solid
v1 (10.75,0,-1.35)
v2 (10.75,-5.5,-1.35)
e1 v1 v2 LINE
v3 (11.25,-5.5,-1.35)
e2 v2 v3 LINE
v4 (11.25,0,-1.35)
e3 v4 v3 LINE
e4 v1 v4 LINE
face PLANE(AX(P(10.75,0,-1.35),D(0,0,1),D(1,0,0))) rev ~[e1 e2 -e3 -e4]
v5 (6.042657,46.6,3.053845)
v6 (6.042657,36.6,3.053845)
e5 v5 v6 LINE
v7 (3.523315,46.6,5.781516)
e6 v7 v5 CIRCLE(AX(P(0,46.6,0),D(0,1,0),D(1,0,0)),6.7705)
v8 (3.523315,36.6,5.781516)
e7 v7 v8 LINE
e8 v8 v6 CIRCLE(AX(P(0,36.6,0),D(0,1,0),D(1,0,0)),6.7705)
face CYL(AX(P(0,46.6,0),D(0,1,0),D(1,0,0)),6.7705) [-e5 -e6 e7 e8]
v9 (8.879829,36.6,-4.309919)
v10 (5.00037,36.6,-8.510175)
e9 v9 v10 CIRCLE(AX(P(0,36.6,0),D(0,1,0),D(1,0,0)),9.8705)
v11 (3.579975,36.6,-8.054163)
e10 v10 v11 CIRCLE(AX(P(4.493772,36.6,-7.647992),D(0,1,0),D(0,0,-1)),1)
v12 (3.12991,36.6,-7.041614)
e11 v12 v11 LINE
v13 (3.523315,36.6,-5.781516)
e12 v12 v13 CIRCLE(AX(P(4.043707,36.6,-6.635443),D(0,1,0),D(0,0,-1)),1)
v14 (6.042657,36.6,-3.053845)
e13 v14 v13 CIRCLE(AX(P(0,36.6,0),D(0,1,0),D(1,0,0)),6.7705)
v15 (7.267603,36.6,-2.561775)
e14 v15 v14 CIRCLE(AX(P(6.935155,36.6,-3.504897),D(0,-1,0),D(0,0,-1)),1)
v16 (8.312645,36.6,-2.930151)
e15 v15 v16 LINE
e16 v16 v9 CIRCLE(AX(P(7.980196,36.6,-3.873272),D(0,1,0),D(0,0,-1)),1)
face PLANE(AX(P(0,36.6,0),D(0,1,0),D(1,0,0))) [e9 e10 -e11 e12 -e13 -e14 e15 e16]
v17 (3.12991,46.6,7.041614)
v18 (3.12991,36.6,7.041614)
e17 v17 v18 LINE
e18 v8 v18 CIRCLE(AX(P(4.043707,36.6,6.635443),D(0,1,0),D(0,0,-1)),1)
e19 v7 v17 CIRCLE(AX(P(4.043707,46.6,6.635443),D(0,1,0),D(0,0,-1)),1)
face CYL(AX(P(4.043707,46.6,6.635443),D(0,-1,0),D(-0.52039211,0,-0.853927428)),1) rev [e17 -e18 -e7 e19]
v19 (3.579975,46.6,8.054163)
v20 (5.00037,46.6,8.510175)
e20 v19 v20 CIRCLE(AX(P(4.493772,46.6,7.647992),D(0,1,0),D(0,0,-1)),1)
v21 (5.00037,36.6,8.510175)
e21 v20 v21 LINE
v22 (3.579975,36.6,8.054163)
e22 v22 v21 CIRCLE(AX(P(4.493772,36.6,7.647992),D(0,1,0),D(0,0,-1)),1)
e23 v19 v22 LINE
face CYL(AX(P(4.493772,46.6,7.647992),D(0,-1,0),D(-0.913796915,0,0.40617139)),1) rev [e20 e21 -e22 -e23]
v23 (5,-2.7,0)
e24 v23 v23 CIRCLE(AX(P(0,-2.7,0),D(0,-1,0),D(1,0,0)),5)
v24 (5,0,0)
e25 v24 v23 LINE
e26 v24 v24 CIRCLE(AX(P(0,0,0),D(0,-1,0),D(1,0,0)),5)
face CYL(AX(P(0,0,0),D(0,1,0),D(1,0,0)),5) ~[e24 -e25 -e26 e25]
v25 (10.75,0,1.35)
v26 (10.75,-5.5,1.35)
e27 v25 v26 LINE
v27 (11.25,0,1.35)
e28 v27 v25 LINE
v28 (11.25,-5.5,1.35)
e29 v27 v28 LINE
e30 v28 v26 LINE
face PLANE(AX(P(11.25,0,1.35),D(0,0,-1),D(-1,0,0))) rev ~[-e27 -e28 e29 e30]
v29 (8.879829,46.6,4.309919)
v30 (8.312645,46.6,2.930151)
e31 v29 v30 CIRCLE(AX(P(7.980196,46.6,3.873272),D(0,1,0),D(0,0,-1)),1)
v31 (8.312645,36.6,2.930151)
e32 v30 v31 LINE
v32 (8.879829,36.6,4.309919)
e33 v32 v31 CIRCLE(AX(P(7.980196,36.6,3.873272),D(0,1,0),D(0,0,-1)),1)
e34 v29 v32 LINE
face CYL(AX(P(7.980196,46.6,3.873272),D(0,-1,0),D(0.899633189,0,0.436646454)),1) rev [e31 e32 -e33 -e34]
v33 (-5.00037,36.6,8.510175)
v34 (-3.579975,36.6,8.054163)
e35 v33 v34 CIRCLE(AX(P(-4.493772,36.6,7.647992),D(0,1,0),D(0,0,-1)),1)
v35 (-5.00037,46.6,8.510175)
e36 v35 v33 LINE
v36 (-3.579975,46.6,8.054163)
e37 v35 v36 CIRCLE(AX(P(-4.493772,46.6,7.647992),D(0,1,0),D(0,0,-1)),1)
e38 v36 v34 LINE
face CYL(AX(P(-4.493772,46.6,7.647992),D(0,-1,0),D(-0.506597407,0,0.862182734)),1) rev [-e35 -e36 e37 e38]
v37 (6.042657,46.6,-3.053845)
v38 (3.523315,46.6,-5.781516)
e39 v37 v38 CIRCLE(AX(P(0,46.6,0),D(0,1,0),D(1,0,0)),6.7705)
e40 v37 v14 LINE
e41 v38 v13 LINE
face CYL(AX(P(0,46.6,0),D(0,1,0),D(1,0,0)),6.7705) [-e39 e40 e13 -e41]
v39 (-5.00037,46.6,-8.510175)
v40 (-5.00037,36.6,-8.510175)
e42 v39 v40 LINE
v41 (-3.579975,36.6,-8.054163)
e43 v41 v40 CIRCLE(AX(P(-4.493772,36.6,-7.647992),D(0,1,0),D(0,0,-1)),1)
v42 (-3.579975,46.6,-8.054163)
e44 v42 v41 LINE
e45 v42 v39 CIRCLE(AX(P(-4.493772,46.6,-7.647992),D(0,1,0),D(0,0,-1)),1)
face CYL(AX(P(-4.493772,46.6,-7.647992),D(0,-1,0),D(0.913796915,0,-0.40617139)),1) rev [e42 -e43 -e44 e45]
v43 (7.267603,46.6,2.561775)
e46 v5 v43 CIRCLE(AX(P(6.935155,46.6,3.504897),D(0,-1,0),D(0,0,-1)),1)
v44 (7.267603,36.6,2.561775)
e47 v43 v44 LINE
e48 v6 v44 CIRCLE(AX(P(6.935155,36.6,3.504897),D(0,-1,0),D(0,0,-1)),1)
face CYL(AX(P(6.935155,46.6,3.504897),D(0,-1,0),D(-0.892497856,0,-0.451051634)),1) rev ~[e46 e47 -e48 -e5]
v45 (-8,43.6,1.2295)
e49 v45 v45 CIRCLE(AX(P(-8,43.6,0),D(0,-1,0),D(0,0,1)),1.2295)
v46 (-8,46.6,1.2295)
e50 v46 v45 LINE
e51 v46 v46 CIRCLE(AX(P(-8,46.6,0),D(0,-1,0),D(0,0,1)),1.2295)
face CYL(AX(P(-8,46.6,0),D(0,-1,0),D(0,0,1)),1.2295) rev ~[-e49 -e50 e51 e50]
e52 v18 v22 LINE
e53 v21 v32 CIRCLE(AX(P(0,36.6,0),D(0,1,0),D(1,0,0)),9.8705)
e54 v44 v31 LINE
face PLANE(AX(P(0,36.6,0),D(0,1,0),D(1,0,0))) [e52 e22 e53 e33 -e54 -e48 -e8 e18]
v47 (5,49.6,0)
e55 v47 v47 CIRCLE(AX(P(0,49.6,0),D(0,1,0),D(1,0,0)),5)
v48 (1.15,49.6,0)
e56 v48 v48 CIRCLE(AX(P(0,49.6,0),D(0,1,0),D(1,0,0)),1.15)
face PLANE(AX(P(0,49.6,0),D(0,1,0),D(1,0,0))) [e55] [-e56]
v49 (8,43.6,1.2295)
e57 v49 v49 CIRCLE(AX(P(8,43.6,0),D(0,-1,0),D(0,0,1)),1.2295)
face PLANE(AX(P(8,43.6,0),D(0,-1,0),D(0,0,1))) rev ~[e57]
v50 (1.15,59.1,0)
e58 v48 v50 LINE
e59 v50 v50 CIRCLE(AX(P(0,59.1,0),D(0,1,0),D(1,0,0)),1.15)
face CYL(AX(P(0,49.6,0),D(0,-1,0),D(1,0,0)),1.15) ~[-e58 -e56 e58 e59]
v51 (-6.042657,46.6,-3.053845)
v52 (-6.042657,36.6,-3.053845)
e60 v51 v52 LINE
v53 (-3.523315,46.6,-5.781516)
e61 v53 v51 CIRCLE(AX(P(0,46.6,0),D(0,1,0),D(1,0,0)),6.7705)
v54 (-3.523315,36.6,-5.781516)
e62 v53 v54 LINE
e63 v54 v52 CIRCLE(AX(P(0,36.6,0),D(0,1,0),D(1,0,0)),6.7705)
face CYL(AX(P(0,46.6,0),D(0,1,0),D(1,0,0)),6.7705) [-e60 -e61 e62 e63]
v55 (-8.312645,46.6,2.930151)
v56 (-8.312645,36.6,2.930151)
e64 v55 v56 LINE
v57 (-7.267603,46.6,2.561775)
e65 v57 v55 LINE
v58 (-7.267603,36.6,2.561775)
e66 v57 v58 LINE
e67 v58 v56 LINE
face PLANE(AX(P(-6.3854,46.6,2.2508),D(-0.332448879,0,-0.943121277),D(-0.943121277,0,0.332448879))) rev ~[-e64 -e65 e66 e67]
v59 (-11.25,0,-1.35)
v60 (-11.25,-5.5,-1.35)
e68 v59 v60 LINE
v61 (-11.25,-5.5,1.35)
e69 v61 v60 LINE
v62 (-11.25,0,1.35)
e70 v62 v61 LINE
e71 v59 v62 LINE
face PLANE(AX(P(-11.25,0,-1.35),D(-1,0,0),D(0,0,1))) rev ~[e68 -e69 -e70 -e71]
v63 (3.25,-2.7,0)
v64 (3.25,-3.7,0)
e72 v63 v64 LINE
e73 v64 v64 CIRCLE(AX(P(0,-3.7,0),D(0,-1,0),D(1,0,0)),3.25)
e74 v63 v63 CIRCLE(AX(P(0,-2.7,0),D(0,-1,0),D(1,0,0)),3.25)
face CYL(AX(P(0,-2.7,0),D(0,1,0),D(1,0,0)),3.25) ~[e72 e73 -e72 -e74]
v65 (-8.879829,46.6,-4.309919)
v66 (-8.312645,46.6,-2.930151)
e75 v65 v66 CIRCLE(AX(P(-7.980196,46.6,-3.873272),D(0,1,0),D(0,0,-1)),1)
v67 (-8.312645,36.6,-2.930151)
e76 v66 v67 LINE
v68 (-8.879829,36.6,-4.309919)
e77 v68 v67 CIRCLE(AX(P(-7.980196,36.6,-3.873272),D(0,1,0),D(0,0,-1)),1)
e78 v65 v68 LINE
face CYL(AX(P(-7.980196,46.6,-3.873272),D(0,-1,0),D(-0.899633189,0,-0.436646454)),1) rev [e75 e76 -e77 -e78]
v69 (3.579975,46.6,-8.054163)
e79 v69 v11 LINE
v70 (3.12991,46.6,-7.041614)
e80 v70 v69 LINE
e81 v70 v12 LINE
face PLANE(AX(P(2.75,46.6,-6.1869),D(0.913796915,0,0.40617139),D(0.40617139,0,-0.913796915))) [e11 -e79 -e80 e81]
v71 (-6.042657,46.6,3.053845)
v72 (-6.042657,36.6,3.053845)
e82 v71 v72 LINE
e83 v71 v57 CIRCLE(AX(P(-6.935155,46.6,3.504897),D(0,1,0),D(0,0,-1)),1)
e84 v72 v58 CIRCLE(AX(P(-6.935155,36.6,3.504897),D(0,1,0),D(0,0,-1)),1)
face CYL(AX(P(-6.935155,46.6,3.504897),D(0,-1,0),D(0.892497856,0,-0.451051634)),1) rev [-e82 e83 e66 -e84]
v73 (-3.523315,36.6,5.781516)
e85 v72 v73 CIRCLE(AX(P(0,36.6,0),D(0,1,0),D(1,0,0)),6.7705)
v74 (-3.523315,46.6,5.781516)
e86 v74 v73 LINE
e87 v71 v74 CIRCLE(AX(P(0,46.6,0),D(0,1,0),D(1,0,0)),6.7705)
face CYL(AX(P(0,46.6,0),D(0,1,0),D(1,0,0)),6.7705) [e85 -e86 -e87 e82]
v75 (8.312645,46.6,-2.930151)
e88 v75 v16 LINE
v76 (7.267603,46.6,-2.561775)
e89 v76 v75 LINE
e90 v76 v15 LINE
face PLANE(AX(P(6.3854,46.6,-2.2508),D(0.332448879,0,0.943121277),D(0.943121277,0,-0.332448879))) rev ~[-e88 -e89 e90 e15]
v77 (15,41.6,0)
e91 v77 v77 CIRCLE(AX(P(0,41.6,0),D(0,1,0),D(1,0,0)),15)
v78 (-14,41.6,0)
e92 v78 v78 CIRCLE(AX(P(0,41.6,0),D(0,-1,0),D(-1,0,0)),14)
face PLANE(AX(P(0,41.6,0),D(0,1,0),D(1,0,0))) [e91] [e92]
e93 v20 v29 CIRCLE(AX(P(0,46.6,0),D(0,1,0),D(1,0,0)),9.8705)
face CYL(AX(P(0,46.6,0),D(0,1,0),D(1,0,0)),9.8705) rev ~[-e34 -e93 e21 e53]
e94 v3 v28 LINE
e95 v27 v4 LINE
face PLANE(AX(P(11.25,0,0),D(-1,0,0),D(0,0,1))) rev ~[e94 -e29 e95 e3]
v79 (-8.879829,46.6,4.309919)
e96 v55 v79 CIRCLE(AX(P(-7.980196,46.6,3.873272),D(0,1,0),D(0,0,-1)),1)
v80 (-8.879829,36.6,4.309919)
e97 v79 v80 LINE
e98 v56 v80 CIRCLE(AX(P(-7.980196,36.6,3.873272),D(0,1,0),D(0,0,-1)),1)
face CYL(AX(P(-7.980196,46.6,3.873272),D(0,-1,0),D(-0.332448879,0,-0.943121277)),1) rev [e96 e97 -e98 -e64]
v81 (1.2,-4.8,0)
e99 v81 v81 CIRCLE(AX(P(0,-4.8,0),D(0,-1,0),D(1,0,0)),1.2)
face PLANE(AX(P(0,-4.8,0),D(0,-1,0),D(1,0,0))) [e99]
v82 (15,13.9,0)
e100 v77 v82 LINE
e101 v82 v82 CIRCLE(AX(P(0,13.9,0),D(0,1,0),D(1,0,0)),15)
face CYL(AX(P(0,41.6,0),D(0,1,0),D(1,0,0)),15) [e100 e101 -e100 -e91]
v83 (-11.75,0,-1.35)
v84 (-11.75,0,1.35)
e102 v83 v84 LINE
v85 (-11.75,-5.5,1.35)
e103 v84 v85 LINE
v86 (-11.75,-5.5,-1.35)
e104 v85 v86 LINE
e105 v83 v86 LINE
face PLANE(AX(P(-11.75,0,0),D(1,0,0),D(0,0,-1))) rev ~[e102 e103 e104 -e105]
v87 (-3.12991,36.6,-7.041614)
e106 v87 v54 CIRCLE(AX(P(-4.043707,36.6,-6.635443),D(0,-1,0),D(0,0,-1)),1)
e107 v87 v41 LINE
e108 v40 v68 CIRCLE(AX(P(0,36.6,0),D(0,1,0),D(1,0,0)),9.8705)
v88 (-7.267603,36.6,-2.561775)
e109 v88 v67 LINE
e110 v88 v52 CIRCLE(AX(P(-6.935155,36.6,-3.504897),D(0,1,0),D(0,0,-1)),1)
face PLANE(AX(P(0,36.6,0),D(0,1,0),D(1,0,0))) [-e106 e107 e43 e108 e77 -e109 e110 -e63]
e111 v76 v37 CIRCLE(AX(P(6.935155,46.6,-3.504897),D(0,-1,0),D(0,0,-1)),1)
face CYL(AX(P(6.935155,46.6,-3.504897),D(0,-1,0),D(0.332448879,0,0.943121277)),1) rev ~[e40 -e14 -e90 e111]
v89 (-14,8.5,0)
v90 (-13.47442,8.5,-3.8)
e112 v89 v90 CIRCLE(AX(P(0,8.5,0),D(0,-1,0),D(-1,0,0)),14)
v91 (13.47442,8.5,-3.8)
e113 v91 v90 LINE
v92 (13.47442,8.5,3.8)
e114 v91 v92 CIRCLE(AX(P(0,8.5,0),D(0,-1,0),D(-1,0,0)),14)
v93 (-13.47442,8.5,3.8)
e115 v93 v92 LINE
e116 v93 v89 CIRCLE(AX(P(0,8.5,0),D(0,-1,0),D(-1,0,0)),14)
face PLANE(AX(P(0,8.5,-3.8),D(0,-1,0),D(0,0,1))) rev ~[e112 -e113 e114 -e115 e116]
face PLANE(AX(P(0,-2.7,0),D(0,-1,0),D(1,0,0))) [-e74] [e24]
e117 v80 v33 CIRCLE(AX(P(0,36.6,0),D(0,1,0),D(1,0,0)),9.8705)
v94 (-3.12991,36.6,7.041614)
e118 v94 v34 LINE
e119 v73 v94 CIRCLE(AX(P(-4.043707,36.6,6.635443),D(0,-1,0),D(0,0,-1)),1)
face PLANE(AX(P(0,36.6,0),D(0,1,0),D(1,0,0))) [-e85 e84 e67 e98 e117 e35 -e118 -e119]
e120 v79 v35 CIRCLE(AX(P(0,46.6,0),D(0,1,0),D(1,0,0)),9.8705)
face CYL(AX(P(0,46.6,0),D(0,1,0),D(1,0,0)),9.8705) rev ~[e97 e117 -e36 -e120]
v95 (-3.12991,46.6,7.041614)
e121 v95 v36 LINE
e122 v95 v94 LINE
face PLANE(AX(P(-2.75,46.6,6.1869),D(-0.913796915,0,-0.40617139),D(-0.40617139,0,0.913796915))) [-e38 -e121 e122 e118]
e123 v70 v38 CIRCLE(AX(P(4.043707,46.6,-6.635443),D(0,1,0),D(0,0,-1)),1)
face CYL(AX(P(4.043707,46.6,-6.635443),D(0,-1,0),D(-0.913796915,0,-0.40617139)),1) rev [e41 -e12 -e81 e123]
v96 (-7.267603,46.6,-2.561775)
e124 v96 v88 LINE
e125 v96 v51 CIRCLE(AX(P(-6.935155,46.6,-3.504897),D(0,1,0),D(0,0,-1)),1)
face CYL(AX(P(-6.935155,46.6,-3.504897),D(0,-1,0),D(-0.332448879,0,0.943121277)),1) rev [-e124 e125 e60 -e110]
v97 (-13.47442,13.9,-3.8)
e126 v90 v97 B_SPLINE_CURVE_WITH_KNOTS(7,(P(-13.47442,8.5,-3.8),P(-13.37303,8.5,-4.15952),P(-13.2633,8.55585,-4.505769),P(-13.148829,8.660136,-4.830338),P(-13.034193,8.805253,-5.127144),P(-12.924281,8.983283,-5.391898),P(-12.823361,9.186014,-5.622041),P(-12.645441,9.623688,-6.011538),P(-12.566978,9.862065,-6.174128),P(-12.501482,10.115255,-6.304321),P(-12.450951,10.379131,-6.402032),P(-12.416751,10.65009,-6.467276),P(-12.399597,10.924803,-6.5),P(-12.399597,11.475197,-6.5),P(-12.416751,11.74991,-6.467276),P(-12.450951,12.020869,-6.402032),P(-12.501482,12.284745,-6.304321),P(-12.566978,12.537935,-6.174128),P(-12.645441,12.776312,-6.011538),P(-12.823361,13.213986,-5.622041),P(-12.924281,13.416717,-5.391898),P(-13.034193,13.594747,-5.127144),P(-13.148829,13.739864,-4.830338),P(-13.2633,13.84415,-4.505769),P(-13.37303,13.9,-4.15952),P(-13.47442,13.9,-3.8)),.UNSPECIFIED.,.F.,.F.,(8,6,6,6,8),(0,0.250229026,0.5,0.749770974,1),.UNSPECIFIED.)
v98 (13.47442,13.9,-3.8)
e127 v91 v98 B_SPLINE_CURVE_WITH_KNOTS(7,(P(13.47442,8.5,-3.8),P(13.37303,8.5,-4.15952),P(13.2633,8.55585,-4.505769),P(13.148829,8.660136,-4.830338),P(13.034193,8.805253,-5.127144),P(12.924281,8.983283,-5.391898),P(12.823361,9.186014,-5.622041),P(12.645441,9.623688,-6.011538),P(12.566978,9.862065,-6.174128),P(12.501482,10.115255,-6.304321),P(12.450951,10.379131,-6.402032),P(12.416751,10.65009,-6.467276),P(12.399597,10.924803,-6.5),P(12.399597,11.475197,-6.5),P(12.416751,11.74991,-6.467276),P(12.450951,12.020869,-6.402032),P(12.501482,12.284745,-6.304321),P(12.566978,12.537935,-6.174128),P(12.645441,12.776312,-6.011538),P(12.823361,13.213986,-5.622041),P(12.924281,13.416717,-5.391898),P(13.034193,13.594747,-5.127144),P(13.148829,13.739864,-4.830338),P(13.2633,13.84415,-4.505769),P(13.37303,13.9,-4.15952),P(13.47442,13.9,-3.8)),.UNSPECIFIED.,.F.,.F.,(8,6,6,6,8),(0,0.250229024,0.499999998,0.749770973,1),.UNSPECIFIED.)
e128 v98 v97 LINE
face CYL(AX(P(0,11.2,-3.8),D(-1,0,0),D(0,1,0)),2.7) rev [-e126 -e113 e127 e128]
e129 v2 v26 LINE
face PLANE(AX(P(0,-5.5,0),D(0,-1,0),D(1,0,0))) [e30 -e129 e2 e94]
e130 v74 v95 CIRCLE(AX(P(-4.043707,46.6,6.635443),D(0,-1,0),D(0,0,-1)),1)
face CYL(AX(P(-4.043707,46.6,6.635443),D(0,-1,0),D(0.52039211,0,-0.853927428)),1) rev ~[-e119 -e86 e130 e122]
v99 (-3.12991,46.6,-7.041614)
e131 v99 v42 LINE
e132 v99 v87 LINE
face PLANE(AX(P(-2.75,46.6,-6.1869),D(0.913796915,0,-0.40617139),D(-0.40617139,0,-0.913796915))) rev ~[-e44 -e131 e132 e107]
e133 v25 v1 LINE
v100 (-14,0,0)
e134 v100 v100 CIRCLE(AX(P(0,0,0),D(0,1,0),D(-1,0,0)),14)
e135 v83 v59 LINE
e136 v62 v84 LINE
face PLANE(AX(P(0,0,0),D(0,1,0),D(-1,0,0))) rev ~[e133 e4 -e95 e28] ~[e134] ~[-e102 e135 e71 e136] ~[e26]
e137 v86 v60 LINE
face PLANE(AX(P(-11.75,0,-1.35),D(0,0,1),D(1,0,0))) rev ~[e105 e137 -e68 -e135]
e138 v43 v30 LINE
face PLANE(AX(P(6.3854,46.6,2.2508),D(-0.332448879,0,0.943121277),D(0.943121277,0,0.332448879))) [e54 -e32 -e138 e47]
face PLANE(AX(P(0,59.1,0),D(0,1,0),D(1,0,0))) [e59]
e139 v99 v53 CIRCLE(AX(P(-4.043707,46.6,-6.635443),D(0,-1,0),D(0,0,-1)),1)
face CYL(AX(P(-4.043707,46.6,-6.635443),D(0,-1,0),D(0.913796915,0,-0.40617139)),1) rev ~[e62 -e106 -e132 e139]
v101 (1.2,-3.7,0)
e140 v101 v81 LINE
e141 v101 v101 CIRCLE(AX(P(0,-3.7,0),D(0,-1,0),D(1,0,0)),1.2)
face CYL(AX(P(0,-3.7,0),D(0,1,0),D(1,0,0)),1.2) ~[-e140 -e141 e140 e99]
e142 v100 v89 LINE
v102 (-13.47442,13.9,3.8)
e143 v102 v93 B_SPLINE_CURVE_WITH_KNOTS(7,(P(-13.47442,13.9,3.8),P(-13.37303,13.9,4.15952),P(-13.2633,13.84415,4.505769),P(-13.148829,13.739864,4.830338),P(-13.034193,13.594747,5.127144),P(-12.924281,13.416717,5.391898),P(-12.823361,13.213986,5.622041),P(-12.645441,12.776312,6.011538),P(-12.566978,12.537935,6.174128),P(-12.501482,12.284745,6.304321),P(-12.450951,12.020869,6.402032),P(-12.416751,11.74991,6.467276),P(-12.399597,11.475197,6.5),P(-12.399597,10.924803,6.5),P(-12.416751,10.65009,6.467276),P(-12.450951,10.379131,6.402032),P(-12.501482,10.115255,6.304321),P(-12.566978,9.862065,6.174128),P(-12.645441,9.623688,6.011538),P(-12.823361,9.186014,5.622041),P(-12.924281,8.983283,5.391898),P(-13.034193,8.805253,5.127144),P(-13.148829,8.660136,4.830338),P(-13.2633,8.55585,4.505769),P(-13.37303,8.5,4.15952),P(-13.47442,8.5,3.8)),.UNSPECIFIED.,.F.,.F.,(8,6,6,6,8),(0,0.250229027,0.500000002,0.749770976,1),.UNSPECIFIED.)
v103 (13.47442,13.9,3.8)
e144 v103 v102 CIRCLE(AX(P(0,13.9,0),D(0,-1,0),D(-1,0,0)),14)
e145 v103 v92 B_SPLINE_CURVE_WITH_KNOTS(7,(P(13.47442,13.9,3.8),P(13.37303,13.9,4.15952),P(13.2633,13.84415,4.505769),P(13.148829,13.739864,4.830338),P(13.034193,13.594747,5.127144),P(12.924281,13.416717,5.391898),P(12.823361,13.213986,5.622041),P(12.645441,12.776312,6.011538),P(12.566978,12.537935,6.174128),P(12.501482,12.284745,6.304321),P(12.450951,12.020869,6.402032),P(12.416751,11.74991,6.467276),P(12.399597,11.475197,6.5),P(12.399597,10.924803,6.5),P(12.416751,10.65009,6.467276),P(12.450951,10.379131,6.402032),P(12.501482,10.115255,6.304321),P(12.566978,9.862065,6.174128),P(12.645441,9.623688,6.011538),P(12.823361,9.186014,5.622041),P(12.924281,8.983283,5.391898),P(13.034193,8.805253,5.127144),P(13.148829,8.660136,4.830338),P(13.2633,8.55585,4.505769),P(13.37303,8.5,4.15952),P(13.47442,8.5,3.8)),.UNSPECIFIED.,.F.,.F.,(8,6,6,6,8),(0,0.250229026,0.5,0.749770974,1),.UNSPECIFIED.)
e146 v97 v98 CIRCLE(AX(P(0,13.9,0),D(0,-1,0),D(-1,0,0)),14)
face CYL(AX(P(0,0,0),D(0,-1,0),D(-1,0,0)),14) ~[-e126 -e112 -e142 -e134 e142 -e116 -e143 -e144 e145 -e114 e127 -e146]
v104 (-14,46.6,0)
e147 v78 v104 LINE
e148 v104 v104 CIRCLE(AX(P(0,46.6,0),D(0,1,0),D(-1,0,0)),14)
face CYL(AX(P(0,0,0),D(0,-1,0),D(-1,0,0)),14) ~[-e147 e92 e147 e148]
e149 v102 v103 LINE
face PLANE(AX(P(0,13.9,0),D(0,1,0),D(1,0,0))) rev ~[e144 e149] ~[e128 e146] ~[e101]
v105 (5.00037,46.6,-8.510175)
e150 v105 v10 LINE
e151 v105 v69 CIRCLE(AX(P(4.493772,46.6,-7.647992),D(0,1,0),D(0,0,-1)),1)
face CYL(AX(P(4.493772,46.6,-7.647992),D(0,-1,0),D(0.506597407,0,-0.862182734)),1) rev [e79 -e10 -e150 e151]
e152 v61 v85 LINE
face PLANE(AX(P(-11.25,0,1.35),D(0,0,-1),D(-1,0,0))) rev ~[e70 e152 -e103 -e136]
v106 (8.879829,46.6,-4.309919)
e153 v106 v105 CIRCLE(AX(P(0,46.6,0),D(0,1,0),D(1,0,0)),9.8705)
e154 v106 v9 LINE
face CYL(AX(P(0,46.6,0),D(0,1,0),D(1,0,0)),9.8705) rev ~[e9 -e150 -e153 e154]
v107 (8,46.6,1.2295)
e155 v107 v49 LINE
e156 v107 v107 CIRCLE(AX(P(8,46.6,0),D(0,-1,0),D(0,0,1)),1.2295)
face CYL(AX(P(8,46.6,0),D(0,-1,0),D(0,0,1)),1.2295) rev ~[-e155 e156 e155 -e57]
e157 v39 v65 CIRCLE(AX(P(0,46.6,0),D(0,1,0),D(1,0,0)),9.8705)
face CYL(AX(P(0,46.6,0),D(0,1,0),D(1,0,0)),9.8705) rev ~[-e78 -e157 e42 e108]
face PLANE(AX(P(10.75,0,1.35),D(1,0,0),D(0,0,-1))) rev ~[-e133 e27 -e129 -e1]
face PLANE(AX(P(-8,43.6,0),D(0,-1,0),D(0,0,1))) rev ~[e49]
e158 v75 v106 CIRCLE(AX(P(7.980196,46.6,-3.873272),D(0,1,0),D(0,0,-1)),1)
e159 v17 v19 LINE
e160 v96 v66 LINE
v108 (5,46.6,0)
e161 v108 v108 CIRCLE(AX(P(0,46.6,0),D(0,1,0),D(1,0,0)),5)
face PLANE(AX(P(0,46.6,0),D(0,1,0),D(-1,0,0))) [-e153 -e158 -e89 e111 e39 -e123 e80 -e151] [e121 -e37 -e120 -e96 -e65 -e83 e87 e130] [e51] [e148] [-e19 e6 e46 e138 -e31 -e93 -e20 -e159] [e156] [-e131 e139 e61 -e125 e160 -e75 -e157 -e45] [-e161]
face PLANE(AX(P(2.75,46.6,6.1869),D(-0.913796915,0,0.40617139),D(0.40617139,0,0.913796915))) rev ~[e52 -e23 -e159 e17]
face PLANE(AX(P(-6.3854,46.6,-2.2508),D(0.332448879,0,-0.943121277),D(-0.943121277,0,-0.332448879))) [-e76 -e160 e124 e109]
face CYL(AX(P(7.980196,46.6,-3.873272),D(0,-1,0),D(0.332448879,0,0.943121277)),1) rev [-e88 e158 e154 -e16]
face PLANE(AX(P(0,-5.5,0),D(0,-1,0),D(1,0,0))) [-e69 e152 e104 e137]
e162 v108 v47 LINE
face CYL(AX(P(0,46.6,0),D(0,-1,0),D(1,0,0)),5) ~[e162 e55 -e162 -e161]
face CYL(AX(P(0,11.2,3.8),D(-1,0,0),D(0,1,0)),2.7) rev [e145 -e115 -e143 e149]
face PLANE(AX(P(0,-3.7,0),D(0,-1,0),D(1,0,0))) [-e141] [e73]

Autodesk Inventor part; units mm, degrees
ref_plane "YZ Plane" through (0, 0, 0) normal (1, 0, 0) x (0, 1, 0)
sketch "Sketch1" plane through (0, 0, 0) normal (0, 1, 0) x (-1, 0, 0)
  circle A0 centre (0, 0) radius 14
  dimension "d0" = 28
extrude "Extrusion1" add sketch "Sketch1" along normal blind 46.6
sketch "Sketch2" plane through (0, 46.6, 0) normal (0, 1, 0) x (1, 0, 0)
  circle A0 centre (0, 0) radius 14 projected
  circle A1 centre (0, 0) radius 5
  dimension "d3" = 10
extrude "Extrusion2" add sketch "Sketch2" along normal blind 3 contours A1
sketch "Sketch3" plane through (0, 46.6, 0) normal (0, 1, 0) x (1, 0, 0)
  circle A0 centre (0, 0) radius 5 projected
  circle A1 centre (0, 0) radius 5 projected
  circle A2 centre (0, 0) radius 14 projected
  circle A3 centre (0, 0) radius 14 projected
  line L0 (-14, 0) -> (14, 0)
  point P0 (-8, 0)
  point P1 (8, 0)
  dimension "d6" = 16
  dimension "d7" = 6
  dimension "d8" = 6
hole "Hole1" at (-8, 46.6, 0) at (8, 46.6, 0) direction (0, -1, 0) diameter 2.459 depth 3 thread size "M3x0.5" class "6H" standard "ISO Metric profile"
ref_plane "Work Plane1" through (0, 41.6, 0) normal (0, 1, 0) x (1, 0, 0)
sketch "Sketch4" plane through (0, 41.6, 0) normal (0, 1, 0) x (1, 0, 0)
  circle A0 centre (0, 0) radius 15
  dimension "d17" = 30
extrude "Extrusion3" add sketch "Sketch4" against normal blind 27.7
sketch "Sketch5" plane through (0, 0, 0) normal (0, -1, 0) x (1, 0, 0)
  circle A0 centre (0, 0) radius 5
  dimension "d20" = 10
extrude "Extrusion4" add sketch "Sketch5" along normal blind 2.7
sketch "Sketch6" plane through (0, 0, 0) normal (0, -1, 0) x (1, 0, 0)
  circle A0 centre (0, 0) radius 5 projected
  circle A1 centre (0, 0) radius 5 projected
  circle A2 centre (0, 0) radius 14 projected
  circle A3 centre (0, 0) radius 14 projected
  line L0 (14, 0) -> (-14, 0)
  line L1 (-11.25, 1.35) -> (-11.75, 1.35)
  line L2 (-11.75, 1.35) -> (-11.75, -1.35)
  line L3 (-11.75, -1.35) -> (-11.25, -1.35)
  line L4 (-11.25, -1.35) -> (-11.25, 1.35)
  line L5 (11.25, 1.35) -> (10.75, 1.35)
  line L6 (10.75, 1.35) -> (10.75, -1.35)
  line L7 (10.75, -1.35) -> (11.25, -1.35)
  line L8 (11.25, -1.35) -> (11.25, 1.35)
  dimension "d23" = 22
  dimension "d24" = 0.5
  dimension "d25" = 0.5
  dimension "d26" = 11.25
  dimension "d27" = 11.25
  dimension "d28" = 2.7
  dimension "d29" = 2.7
  dimension "d30" = 1.35
  dimension "d31" = 1.35
extrude "Extrusion5" add sketch "Sketch6" along normal blind 5.5 contours L6 L5 L8 L0 | L0 L8 L7 L6 | L4 L3 L2 L0 | L0 L2 L1 L4
sketch "Sketch7" plane through (0, 49.6, 0) normal (0, 1, 0) x (1, 0, 0)
  circle A0 centre (0, 0) radius 1.15
  dimension "d34" = 2.3
extrude "Extrusion6" add sketch "Sketch7" along normal blind 9.5
ref_plane "Work Plane2" through (0, 50.6, 0) normal (0, 1, 0) x (1, 0, 0)
sketch "Sketch10" plane through (0, 0, 0) normal (1, 0, 0) x (0, 1, 0)
  line L0 (0, -14) -> (0, 14) projected
  line L1 (13.9, 14) -> (13.9, -14) projected
  line L2 (8.5, 3.8) -> (13.9, 3.8)
  line L3 (13.9, 3.8) -> (13.9, -3.8)
  line L4 (13.9, -3.8) -> (8.5, -3.8)
  line L5 (8.5, -3.8) -> (8.5, 3.8)
  circle A0 centre (11.2, 3.8) radius 2.7
  circle A1 centre (11.2, -3.8) radius 2.7
  line L6 (0, 0) -> (13.9, 0)
  line L7 (13.9, 14) -> (13.9, -14) projected
  line L8 (0, -14) -> (13.9, -14) projected
  point P0 (11.2, -6.5)
  point P1 (11.2, 6.5)
  dimension "d57" = 8.5
  dimension "d59" = 0
  dimension "d60" = 5.4
  dimension "d61" = 13.9
  dimension "d65" = 3.8
  dimension "d66" = 3.8
  dimension "d80" = 5.4
  dimension "d81" = 5.4
  dimension "d82" = 2.7
  dimension "d83" = 2.7
  dimension "d84" = 13
extrude "Extrusion9" cut sketch "Sketch10" along normal mid plane 31.5 contours L6 L1 A1 L5 | L5 A0 L1 L6 | A1 L4 | L4 A1 | A0 L2 | L2 A0
sketch "Sketch12" plane through (0, 46.6, 0) normal (0, 1, 0) x (1, 0, 0)
  circle A0 centre (0, 0) radius 1.15 projected
  circle A1 centre (0, 0) radius 5 projected
  circle A2 centre (-8, 0) radius 1.2295 projected
  circle A3 centre (8, 0) radius 1.2295 projected
  circle A4 centre (0, 0) radius 5 projected
  circle A5 centre (0, 0) radius 14 projected
  circle A6 centre (0, 0) radius 14 projected
  line L0 (-14, 0) -> (14, 0)
  line L1 (0, 14) -> (0, -14)
  circle A7 centre (0, 0) radius 6.7705
  circle A8 centre (0, 0) radius 9.8705
  line L2 (-2.75, 6.1869) -> (-4.0091, 9.0196)
  line L3 (-6.3854, 2.2508) -> (-9.3091, 3.2814)
  line L4 (2.75, 6.1869) -> (4.0091, 9.0196)
  line L5 (6.3854, 2.2508) -> (9.3091, 3.2814)
  circle A9 centre (-8, 0) radius 1.2295 projected
  circle A10 centre (8, 0) radius 1.2295 projected
  line L6 (-2.75, -6.1869) -> (-4.0091, -9.0196)
  line L7 (-6.3854, -2.2508) -> (-9.3091, -3.2814)
  line L8 (2.75, -6.1869) -> (4.0091, -9.0196)
  line L9 (6.3854, -2.2508) -> (9.3091, -3.2814)
  point P0 (0, 6.7705)
  point P1 (0, 9.8705)
  point P2 (-8, 1.2295)
  point P3 (8, 1.2295)
  point P4 (-6.3854, -2.2508)
  point P5 (6.3854, -2.2508)
  dimension "d85" = 3.1
  dimension "d86" = 5.5
  dimension "d87" = 4.0091
  dimension "d88" = 4.0091
  dimension "d89" = 1.5
  dimension "d90" = 1.5
  dimension "d91" = 1.2295
  dimension "d92" = 2.459
  dimension "d93" = 2.459
  dimension "d94" = 1.2295
extrude "Extrusion11" cut sketch "Sketch12" against normal blind 10 contours A7 L4 A8 L5 | L9 A8 L8 A7 | A7 L3 A8 L2 | L6 A8 L7 A7
fillet "Fillet1" radius 1 16 edges at (-4.0091, 41.6, -9.0196) (-2.75, 41.6, -6.1869) (-6.3854, 41.6, -2.2508) (-9.3091, 41.6, -3.2814) (9.3091, 41.6, -3.2814) (6.3854, 41.6, -2.2508) (4.0091, 41.6, -9.0196) (9.3091, 41.6, 3.2814) (6.3854, 41.6, 2.2508) (4.0091, 41.6, 9.0196) (2.75, 41.6, 6.1869) (-4.0091, 41.6, 9.0196) (-9.3091, 41.6, 3.2814) (-6.3854, 41.6, 2.2508) (-2.75, 41.6, 6.1869) (2.75, 41.6, -6.1869)
sketch "Sketch13" plane through (0, -2.7, 0) normal (0, -1, 0) x (1, 0, 0)
  circle A0 centre (0, 0) radius 3.25
  dimension "d98" = 6.5
extrude "Extrusion12" add sketch "Sketch13" along normal blind 1
sketch "Sketch14" plane through (0, -3.7, 0) normal (0, -1, 0) x (1, 0, 0)
  circle A0 centre (0, 0) radius 1.2
  dimension "d101" = 2.4
extrude "Extrusion13" add sketch "Sketch14" along normal blind 1.1
equation "\"d7\" = d8"
equation "\"d26\" = d27"
equation "\"d30\" = d31"
equation "\"d65\" = d66"
equation "\"d82\" = 0.5 * d80"
equation "\"d83\" = 0.5 * d81"
equation "\"d87\" = d88"
equation "\"d91\" = 0.5 * d92"
equation "\"d94\" = 0.5 * d93"
equation "\"d41\" = d42"
properties part number "rs390" material "Steel, Mild"
